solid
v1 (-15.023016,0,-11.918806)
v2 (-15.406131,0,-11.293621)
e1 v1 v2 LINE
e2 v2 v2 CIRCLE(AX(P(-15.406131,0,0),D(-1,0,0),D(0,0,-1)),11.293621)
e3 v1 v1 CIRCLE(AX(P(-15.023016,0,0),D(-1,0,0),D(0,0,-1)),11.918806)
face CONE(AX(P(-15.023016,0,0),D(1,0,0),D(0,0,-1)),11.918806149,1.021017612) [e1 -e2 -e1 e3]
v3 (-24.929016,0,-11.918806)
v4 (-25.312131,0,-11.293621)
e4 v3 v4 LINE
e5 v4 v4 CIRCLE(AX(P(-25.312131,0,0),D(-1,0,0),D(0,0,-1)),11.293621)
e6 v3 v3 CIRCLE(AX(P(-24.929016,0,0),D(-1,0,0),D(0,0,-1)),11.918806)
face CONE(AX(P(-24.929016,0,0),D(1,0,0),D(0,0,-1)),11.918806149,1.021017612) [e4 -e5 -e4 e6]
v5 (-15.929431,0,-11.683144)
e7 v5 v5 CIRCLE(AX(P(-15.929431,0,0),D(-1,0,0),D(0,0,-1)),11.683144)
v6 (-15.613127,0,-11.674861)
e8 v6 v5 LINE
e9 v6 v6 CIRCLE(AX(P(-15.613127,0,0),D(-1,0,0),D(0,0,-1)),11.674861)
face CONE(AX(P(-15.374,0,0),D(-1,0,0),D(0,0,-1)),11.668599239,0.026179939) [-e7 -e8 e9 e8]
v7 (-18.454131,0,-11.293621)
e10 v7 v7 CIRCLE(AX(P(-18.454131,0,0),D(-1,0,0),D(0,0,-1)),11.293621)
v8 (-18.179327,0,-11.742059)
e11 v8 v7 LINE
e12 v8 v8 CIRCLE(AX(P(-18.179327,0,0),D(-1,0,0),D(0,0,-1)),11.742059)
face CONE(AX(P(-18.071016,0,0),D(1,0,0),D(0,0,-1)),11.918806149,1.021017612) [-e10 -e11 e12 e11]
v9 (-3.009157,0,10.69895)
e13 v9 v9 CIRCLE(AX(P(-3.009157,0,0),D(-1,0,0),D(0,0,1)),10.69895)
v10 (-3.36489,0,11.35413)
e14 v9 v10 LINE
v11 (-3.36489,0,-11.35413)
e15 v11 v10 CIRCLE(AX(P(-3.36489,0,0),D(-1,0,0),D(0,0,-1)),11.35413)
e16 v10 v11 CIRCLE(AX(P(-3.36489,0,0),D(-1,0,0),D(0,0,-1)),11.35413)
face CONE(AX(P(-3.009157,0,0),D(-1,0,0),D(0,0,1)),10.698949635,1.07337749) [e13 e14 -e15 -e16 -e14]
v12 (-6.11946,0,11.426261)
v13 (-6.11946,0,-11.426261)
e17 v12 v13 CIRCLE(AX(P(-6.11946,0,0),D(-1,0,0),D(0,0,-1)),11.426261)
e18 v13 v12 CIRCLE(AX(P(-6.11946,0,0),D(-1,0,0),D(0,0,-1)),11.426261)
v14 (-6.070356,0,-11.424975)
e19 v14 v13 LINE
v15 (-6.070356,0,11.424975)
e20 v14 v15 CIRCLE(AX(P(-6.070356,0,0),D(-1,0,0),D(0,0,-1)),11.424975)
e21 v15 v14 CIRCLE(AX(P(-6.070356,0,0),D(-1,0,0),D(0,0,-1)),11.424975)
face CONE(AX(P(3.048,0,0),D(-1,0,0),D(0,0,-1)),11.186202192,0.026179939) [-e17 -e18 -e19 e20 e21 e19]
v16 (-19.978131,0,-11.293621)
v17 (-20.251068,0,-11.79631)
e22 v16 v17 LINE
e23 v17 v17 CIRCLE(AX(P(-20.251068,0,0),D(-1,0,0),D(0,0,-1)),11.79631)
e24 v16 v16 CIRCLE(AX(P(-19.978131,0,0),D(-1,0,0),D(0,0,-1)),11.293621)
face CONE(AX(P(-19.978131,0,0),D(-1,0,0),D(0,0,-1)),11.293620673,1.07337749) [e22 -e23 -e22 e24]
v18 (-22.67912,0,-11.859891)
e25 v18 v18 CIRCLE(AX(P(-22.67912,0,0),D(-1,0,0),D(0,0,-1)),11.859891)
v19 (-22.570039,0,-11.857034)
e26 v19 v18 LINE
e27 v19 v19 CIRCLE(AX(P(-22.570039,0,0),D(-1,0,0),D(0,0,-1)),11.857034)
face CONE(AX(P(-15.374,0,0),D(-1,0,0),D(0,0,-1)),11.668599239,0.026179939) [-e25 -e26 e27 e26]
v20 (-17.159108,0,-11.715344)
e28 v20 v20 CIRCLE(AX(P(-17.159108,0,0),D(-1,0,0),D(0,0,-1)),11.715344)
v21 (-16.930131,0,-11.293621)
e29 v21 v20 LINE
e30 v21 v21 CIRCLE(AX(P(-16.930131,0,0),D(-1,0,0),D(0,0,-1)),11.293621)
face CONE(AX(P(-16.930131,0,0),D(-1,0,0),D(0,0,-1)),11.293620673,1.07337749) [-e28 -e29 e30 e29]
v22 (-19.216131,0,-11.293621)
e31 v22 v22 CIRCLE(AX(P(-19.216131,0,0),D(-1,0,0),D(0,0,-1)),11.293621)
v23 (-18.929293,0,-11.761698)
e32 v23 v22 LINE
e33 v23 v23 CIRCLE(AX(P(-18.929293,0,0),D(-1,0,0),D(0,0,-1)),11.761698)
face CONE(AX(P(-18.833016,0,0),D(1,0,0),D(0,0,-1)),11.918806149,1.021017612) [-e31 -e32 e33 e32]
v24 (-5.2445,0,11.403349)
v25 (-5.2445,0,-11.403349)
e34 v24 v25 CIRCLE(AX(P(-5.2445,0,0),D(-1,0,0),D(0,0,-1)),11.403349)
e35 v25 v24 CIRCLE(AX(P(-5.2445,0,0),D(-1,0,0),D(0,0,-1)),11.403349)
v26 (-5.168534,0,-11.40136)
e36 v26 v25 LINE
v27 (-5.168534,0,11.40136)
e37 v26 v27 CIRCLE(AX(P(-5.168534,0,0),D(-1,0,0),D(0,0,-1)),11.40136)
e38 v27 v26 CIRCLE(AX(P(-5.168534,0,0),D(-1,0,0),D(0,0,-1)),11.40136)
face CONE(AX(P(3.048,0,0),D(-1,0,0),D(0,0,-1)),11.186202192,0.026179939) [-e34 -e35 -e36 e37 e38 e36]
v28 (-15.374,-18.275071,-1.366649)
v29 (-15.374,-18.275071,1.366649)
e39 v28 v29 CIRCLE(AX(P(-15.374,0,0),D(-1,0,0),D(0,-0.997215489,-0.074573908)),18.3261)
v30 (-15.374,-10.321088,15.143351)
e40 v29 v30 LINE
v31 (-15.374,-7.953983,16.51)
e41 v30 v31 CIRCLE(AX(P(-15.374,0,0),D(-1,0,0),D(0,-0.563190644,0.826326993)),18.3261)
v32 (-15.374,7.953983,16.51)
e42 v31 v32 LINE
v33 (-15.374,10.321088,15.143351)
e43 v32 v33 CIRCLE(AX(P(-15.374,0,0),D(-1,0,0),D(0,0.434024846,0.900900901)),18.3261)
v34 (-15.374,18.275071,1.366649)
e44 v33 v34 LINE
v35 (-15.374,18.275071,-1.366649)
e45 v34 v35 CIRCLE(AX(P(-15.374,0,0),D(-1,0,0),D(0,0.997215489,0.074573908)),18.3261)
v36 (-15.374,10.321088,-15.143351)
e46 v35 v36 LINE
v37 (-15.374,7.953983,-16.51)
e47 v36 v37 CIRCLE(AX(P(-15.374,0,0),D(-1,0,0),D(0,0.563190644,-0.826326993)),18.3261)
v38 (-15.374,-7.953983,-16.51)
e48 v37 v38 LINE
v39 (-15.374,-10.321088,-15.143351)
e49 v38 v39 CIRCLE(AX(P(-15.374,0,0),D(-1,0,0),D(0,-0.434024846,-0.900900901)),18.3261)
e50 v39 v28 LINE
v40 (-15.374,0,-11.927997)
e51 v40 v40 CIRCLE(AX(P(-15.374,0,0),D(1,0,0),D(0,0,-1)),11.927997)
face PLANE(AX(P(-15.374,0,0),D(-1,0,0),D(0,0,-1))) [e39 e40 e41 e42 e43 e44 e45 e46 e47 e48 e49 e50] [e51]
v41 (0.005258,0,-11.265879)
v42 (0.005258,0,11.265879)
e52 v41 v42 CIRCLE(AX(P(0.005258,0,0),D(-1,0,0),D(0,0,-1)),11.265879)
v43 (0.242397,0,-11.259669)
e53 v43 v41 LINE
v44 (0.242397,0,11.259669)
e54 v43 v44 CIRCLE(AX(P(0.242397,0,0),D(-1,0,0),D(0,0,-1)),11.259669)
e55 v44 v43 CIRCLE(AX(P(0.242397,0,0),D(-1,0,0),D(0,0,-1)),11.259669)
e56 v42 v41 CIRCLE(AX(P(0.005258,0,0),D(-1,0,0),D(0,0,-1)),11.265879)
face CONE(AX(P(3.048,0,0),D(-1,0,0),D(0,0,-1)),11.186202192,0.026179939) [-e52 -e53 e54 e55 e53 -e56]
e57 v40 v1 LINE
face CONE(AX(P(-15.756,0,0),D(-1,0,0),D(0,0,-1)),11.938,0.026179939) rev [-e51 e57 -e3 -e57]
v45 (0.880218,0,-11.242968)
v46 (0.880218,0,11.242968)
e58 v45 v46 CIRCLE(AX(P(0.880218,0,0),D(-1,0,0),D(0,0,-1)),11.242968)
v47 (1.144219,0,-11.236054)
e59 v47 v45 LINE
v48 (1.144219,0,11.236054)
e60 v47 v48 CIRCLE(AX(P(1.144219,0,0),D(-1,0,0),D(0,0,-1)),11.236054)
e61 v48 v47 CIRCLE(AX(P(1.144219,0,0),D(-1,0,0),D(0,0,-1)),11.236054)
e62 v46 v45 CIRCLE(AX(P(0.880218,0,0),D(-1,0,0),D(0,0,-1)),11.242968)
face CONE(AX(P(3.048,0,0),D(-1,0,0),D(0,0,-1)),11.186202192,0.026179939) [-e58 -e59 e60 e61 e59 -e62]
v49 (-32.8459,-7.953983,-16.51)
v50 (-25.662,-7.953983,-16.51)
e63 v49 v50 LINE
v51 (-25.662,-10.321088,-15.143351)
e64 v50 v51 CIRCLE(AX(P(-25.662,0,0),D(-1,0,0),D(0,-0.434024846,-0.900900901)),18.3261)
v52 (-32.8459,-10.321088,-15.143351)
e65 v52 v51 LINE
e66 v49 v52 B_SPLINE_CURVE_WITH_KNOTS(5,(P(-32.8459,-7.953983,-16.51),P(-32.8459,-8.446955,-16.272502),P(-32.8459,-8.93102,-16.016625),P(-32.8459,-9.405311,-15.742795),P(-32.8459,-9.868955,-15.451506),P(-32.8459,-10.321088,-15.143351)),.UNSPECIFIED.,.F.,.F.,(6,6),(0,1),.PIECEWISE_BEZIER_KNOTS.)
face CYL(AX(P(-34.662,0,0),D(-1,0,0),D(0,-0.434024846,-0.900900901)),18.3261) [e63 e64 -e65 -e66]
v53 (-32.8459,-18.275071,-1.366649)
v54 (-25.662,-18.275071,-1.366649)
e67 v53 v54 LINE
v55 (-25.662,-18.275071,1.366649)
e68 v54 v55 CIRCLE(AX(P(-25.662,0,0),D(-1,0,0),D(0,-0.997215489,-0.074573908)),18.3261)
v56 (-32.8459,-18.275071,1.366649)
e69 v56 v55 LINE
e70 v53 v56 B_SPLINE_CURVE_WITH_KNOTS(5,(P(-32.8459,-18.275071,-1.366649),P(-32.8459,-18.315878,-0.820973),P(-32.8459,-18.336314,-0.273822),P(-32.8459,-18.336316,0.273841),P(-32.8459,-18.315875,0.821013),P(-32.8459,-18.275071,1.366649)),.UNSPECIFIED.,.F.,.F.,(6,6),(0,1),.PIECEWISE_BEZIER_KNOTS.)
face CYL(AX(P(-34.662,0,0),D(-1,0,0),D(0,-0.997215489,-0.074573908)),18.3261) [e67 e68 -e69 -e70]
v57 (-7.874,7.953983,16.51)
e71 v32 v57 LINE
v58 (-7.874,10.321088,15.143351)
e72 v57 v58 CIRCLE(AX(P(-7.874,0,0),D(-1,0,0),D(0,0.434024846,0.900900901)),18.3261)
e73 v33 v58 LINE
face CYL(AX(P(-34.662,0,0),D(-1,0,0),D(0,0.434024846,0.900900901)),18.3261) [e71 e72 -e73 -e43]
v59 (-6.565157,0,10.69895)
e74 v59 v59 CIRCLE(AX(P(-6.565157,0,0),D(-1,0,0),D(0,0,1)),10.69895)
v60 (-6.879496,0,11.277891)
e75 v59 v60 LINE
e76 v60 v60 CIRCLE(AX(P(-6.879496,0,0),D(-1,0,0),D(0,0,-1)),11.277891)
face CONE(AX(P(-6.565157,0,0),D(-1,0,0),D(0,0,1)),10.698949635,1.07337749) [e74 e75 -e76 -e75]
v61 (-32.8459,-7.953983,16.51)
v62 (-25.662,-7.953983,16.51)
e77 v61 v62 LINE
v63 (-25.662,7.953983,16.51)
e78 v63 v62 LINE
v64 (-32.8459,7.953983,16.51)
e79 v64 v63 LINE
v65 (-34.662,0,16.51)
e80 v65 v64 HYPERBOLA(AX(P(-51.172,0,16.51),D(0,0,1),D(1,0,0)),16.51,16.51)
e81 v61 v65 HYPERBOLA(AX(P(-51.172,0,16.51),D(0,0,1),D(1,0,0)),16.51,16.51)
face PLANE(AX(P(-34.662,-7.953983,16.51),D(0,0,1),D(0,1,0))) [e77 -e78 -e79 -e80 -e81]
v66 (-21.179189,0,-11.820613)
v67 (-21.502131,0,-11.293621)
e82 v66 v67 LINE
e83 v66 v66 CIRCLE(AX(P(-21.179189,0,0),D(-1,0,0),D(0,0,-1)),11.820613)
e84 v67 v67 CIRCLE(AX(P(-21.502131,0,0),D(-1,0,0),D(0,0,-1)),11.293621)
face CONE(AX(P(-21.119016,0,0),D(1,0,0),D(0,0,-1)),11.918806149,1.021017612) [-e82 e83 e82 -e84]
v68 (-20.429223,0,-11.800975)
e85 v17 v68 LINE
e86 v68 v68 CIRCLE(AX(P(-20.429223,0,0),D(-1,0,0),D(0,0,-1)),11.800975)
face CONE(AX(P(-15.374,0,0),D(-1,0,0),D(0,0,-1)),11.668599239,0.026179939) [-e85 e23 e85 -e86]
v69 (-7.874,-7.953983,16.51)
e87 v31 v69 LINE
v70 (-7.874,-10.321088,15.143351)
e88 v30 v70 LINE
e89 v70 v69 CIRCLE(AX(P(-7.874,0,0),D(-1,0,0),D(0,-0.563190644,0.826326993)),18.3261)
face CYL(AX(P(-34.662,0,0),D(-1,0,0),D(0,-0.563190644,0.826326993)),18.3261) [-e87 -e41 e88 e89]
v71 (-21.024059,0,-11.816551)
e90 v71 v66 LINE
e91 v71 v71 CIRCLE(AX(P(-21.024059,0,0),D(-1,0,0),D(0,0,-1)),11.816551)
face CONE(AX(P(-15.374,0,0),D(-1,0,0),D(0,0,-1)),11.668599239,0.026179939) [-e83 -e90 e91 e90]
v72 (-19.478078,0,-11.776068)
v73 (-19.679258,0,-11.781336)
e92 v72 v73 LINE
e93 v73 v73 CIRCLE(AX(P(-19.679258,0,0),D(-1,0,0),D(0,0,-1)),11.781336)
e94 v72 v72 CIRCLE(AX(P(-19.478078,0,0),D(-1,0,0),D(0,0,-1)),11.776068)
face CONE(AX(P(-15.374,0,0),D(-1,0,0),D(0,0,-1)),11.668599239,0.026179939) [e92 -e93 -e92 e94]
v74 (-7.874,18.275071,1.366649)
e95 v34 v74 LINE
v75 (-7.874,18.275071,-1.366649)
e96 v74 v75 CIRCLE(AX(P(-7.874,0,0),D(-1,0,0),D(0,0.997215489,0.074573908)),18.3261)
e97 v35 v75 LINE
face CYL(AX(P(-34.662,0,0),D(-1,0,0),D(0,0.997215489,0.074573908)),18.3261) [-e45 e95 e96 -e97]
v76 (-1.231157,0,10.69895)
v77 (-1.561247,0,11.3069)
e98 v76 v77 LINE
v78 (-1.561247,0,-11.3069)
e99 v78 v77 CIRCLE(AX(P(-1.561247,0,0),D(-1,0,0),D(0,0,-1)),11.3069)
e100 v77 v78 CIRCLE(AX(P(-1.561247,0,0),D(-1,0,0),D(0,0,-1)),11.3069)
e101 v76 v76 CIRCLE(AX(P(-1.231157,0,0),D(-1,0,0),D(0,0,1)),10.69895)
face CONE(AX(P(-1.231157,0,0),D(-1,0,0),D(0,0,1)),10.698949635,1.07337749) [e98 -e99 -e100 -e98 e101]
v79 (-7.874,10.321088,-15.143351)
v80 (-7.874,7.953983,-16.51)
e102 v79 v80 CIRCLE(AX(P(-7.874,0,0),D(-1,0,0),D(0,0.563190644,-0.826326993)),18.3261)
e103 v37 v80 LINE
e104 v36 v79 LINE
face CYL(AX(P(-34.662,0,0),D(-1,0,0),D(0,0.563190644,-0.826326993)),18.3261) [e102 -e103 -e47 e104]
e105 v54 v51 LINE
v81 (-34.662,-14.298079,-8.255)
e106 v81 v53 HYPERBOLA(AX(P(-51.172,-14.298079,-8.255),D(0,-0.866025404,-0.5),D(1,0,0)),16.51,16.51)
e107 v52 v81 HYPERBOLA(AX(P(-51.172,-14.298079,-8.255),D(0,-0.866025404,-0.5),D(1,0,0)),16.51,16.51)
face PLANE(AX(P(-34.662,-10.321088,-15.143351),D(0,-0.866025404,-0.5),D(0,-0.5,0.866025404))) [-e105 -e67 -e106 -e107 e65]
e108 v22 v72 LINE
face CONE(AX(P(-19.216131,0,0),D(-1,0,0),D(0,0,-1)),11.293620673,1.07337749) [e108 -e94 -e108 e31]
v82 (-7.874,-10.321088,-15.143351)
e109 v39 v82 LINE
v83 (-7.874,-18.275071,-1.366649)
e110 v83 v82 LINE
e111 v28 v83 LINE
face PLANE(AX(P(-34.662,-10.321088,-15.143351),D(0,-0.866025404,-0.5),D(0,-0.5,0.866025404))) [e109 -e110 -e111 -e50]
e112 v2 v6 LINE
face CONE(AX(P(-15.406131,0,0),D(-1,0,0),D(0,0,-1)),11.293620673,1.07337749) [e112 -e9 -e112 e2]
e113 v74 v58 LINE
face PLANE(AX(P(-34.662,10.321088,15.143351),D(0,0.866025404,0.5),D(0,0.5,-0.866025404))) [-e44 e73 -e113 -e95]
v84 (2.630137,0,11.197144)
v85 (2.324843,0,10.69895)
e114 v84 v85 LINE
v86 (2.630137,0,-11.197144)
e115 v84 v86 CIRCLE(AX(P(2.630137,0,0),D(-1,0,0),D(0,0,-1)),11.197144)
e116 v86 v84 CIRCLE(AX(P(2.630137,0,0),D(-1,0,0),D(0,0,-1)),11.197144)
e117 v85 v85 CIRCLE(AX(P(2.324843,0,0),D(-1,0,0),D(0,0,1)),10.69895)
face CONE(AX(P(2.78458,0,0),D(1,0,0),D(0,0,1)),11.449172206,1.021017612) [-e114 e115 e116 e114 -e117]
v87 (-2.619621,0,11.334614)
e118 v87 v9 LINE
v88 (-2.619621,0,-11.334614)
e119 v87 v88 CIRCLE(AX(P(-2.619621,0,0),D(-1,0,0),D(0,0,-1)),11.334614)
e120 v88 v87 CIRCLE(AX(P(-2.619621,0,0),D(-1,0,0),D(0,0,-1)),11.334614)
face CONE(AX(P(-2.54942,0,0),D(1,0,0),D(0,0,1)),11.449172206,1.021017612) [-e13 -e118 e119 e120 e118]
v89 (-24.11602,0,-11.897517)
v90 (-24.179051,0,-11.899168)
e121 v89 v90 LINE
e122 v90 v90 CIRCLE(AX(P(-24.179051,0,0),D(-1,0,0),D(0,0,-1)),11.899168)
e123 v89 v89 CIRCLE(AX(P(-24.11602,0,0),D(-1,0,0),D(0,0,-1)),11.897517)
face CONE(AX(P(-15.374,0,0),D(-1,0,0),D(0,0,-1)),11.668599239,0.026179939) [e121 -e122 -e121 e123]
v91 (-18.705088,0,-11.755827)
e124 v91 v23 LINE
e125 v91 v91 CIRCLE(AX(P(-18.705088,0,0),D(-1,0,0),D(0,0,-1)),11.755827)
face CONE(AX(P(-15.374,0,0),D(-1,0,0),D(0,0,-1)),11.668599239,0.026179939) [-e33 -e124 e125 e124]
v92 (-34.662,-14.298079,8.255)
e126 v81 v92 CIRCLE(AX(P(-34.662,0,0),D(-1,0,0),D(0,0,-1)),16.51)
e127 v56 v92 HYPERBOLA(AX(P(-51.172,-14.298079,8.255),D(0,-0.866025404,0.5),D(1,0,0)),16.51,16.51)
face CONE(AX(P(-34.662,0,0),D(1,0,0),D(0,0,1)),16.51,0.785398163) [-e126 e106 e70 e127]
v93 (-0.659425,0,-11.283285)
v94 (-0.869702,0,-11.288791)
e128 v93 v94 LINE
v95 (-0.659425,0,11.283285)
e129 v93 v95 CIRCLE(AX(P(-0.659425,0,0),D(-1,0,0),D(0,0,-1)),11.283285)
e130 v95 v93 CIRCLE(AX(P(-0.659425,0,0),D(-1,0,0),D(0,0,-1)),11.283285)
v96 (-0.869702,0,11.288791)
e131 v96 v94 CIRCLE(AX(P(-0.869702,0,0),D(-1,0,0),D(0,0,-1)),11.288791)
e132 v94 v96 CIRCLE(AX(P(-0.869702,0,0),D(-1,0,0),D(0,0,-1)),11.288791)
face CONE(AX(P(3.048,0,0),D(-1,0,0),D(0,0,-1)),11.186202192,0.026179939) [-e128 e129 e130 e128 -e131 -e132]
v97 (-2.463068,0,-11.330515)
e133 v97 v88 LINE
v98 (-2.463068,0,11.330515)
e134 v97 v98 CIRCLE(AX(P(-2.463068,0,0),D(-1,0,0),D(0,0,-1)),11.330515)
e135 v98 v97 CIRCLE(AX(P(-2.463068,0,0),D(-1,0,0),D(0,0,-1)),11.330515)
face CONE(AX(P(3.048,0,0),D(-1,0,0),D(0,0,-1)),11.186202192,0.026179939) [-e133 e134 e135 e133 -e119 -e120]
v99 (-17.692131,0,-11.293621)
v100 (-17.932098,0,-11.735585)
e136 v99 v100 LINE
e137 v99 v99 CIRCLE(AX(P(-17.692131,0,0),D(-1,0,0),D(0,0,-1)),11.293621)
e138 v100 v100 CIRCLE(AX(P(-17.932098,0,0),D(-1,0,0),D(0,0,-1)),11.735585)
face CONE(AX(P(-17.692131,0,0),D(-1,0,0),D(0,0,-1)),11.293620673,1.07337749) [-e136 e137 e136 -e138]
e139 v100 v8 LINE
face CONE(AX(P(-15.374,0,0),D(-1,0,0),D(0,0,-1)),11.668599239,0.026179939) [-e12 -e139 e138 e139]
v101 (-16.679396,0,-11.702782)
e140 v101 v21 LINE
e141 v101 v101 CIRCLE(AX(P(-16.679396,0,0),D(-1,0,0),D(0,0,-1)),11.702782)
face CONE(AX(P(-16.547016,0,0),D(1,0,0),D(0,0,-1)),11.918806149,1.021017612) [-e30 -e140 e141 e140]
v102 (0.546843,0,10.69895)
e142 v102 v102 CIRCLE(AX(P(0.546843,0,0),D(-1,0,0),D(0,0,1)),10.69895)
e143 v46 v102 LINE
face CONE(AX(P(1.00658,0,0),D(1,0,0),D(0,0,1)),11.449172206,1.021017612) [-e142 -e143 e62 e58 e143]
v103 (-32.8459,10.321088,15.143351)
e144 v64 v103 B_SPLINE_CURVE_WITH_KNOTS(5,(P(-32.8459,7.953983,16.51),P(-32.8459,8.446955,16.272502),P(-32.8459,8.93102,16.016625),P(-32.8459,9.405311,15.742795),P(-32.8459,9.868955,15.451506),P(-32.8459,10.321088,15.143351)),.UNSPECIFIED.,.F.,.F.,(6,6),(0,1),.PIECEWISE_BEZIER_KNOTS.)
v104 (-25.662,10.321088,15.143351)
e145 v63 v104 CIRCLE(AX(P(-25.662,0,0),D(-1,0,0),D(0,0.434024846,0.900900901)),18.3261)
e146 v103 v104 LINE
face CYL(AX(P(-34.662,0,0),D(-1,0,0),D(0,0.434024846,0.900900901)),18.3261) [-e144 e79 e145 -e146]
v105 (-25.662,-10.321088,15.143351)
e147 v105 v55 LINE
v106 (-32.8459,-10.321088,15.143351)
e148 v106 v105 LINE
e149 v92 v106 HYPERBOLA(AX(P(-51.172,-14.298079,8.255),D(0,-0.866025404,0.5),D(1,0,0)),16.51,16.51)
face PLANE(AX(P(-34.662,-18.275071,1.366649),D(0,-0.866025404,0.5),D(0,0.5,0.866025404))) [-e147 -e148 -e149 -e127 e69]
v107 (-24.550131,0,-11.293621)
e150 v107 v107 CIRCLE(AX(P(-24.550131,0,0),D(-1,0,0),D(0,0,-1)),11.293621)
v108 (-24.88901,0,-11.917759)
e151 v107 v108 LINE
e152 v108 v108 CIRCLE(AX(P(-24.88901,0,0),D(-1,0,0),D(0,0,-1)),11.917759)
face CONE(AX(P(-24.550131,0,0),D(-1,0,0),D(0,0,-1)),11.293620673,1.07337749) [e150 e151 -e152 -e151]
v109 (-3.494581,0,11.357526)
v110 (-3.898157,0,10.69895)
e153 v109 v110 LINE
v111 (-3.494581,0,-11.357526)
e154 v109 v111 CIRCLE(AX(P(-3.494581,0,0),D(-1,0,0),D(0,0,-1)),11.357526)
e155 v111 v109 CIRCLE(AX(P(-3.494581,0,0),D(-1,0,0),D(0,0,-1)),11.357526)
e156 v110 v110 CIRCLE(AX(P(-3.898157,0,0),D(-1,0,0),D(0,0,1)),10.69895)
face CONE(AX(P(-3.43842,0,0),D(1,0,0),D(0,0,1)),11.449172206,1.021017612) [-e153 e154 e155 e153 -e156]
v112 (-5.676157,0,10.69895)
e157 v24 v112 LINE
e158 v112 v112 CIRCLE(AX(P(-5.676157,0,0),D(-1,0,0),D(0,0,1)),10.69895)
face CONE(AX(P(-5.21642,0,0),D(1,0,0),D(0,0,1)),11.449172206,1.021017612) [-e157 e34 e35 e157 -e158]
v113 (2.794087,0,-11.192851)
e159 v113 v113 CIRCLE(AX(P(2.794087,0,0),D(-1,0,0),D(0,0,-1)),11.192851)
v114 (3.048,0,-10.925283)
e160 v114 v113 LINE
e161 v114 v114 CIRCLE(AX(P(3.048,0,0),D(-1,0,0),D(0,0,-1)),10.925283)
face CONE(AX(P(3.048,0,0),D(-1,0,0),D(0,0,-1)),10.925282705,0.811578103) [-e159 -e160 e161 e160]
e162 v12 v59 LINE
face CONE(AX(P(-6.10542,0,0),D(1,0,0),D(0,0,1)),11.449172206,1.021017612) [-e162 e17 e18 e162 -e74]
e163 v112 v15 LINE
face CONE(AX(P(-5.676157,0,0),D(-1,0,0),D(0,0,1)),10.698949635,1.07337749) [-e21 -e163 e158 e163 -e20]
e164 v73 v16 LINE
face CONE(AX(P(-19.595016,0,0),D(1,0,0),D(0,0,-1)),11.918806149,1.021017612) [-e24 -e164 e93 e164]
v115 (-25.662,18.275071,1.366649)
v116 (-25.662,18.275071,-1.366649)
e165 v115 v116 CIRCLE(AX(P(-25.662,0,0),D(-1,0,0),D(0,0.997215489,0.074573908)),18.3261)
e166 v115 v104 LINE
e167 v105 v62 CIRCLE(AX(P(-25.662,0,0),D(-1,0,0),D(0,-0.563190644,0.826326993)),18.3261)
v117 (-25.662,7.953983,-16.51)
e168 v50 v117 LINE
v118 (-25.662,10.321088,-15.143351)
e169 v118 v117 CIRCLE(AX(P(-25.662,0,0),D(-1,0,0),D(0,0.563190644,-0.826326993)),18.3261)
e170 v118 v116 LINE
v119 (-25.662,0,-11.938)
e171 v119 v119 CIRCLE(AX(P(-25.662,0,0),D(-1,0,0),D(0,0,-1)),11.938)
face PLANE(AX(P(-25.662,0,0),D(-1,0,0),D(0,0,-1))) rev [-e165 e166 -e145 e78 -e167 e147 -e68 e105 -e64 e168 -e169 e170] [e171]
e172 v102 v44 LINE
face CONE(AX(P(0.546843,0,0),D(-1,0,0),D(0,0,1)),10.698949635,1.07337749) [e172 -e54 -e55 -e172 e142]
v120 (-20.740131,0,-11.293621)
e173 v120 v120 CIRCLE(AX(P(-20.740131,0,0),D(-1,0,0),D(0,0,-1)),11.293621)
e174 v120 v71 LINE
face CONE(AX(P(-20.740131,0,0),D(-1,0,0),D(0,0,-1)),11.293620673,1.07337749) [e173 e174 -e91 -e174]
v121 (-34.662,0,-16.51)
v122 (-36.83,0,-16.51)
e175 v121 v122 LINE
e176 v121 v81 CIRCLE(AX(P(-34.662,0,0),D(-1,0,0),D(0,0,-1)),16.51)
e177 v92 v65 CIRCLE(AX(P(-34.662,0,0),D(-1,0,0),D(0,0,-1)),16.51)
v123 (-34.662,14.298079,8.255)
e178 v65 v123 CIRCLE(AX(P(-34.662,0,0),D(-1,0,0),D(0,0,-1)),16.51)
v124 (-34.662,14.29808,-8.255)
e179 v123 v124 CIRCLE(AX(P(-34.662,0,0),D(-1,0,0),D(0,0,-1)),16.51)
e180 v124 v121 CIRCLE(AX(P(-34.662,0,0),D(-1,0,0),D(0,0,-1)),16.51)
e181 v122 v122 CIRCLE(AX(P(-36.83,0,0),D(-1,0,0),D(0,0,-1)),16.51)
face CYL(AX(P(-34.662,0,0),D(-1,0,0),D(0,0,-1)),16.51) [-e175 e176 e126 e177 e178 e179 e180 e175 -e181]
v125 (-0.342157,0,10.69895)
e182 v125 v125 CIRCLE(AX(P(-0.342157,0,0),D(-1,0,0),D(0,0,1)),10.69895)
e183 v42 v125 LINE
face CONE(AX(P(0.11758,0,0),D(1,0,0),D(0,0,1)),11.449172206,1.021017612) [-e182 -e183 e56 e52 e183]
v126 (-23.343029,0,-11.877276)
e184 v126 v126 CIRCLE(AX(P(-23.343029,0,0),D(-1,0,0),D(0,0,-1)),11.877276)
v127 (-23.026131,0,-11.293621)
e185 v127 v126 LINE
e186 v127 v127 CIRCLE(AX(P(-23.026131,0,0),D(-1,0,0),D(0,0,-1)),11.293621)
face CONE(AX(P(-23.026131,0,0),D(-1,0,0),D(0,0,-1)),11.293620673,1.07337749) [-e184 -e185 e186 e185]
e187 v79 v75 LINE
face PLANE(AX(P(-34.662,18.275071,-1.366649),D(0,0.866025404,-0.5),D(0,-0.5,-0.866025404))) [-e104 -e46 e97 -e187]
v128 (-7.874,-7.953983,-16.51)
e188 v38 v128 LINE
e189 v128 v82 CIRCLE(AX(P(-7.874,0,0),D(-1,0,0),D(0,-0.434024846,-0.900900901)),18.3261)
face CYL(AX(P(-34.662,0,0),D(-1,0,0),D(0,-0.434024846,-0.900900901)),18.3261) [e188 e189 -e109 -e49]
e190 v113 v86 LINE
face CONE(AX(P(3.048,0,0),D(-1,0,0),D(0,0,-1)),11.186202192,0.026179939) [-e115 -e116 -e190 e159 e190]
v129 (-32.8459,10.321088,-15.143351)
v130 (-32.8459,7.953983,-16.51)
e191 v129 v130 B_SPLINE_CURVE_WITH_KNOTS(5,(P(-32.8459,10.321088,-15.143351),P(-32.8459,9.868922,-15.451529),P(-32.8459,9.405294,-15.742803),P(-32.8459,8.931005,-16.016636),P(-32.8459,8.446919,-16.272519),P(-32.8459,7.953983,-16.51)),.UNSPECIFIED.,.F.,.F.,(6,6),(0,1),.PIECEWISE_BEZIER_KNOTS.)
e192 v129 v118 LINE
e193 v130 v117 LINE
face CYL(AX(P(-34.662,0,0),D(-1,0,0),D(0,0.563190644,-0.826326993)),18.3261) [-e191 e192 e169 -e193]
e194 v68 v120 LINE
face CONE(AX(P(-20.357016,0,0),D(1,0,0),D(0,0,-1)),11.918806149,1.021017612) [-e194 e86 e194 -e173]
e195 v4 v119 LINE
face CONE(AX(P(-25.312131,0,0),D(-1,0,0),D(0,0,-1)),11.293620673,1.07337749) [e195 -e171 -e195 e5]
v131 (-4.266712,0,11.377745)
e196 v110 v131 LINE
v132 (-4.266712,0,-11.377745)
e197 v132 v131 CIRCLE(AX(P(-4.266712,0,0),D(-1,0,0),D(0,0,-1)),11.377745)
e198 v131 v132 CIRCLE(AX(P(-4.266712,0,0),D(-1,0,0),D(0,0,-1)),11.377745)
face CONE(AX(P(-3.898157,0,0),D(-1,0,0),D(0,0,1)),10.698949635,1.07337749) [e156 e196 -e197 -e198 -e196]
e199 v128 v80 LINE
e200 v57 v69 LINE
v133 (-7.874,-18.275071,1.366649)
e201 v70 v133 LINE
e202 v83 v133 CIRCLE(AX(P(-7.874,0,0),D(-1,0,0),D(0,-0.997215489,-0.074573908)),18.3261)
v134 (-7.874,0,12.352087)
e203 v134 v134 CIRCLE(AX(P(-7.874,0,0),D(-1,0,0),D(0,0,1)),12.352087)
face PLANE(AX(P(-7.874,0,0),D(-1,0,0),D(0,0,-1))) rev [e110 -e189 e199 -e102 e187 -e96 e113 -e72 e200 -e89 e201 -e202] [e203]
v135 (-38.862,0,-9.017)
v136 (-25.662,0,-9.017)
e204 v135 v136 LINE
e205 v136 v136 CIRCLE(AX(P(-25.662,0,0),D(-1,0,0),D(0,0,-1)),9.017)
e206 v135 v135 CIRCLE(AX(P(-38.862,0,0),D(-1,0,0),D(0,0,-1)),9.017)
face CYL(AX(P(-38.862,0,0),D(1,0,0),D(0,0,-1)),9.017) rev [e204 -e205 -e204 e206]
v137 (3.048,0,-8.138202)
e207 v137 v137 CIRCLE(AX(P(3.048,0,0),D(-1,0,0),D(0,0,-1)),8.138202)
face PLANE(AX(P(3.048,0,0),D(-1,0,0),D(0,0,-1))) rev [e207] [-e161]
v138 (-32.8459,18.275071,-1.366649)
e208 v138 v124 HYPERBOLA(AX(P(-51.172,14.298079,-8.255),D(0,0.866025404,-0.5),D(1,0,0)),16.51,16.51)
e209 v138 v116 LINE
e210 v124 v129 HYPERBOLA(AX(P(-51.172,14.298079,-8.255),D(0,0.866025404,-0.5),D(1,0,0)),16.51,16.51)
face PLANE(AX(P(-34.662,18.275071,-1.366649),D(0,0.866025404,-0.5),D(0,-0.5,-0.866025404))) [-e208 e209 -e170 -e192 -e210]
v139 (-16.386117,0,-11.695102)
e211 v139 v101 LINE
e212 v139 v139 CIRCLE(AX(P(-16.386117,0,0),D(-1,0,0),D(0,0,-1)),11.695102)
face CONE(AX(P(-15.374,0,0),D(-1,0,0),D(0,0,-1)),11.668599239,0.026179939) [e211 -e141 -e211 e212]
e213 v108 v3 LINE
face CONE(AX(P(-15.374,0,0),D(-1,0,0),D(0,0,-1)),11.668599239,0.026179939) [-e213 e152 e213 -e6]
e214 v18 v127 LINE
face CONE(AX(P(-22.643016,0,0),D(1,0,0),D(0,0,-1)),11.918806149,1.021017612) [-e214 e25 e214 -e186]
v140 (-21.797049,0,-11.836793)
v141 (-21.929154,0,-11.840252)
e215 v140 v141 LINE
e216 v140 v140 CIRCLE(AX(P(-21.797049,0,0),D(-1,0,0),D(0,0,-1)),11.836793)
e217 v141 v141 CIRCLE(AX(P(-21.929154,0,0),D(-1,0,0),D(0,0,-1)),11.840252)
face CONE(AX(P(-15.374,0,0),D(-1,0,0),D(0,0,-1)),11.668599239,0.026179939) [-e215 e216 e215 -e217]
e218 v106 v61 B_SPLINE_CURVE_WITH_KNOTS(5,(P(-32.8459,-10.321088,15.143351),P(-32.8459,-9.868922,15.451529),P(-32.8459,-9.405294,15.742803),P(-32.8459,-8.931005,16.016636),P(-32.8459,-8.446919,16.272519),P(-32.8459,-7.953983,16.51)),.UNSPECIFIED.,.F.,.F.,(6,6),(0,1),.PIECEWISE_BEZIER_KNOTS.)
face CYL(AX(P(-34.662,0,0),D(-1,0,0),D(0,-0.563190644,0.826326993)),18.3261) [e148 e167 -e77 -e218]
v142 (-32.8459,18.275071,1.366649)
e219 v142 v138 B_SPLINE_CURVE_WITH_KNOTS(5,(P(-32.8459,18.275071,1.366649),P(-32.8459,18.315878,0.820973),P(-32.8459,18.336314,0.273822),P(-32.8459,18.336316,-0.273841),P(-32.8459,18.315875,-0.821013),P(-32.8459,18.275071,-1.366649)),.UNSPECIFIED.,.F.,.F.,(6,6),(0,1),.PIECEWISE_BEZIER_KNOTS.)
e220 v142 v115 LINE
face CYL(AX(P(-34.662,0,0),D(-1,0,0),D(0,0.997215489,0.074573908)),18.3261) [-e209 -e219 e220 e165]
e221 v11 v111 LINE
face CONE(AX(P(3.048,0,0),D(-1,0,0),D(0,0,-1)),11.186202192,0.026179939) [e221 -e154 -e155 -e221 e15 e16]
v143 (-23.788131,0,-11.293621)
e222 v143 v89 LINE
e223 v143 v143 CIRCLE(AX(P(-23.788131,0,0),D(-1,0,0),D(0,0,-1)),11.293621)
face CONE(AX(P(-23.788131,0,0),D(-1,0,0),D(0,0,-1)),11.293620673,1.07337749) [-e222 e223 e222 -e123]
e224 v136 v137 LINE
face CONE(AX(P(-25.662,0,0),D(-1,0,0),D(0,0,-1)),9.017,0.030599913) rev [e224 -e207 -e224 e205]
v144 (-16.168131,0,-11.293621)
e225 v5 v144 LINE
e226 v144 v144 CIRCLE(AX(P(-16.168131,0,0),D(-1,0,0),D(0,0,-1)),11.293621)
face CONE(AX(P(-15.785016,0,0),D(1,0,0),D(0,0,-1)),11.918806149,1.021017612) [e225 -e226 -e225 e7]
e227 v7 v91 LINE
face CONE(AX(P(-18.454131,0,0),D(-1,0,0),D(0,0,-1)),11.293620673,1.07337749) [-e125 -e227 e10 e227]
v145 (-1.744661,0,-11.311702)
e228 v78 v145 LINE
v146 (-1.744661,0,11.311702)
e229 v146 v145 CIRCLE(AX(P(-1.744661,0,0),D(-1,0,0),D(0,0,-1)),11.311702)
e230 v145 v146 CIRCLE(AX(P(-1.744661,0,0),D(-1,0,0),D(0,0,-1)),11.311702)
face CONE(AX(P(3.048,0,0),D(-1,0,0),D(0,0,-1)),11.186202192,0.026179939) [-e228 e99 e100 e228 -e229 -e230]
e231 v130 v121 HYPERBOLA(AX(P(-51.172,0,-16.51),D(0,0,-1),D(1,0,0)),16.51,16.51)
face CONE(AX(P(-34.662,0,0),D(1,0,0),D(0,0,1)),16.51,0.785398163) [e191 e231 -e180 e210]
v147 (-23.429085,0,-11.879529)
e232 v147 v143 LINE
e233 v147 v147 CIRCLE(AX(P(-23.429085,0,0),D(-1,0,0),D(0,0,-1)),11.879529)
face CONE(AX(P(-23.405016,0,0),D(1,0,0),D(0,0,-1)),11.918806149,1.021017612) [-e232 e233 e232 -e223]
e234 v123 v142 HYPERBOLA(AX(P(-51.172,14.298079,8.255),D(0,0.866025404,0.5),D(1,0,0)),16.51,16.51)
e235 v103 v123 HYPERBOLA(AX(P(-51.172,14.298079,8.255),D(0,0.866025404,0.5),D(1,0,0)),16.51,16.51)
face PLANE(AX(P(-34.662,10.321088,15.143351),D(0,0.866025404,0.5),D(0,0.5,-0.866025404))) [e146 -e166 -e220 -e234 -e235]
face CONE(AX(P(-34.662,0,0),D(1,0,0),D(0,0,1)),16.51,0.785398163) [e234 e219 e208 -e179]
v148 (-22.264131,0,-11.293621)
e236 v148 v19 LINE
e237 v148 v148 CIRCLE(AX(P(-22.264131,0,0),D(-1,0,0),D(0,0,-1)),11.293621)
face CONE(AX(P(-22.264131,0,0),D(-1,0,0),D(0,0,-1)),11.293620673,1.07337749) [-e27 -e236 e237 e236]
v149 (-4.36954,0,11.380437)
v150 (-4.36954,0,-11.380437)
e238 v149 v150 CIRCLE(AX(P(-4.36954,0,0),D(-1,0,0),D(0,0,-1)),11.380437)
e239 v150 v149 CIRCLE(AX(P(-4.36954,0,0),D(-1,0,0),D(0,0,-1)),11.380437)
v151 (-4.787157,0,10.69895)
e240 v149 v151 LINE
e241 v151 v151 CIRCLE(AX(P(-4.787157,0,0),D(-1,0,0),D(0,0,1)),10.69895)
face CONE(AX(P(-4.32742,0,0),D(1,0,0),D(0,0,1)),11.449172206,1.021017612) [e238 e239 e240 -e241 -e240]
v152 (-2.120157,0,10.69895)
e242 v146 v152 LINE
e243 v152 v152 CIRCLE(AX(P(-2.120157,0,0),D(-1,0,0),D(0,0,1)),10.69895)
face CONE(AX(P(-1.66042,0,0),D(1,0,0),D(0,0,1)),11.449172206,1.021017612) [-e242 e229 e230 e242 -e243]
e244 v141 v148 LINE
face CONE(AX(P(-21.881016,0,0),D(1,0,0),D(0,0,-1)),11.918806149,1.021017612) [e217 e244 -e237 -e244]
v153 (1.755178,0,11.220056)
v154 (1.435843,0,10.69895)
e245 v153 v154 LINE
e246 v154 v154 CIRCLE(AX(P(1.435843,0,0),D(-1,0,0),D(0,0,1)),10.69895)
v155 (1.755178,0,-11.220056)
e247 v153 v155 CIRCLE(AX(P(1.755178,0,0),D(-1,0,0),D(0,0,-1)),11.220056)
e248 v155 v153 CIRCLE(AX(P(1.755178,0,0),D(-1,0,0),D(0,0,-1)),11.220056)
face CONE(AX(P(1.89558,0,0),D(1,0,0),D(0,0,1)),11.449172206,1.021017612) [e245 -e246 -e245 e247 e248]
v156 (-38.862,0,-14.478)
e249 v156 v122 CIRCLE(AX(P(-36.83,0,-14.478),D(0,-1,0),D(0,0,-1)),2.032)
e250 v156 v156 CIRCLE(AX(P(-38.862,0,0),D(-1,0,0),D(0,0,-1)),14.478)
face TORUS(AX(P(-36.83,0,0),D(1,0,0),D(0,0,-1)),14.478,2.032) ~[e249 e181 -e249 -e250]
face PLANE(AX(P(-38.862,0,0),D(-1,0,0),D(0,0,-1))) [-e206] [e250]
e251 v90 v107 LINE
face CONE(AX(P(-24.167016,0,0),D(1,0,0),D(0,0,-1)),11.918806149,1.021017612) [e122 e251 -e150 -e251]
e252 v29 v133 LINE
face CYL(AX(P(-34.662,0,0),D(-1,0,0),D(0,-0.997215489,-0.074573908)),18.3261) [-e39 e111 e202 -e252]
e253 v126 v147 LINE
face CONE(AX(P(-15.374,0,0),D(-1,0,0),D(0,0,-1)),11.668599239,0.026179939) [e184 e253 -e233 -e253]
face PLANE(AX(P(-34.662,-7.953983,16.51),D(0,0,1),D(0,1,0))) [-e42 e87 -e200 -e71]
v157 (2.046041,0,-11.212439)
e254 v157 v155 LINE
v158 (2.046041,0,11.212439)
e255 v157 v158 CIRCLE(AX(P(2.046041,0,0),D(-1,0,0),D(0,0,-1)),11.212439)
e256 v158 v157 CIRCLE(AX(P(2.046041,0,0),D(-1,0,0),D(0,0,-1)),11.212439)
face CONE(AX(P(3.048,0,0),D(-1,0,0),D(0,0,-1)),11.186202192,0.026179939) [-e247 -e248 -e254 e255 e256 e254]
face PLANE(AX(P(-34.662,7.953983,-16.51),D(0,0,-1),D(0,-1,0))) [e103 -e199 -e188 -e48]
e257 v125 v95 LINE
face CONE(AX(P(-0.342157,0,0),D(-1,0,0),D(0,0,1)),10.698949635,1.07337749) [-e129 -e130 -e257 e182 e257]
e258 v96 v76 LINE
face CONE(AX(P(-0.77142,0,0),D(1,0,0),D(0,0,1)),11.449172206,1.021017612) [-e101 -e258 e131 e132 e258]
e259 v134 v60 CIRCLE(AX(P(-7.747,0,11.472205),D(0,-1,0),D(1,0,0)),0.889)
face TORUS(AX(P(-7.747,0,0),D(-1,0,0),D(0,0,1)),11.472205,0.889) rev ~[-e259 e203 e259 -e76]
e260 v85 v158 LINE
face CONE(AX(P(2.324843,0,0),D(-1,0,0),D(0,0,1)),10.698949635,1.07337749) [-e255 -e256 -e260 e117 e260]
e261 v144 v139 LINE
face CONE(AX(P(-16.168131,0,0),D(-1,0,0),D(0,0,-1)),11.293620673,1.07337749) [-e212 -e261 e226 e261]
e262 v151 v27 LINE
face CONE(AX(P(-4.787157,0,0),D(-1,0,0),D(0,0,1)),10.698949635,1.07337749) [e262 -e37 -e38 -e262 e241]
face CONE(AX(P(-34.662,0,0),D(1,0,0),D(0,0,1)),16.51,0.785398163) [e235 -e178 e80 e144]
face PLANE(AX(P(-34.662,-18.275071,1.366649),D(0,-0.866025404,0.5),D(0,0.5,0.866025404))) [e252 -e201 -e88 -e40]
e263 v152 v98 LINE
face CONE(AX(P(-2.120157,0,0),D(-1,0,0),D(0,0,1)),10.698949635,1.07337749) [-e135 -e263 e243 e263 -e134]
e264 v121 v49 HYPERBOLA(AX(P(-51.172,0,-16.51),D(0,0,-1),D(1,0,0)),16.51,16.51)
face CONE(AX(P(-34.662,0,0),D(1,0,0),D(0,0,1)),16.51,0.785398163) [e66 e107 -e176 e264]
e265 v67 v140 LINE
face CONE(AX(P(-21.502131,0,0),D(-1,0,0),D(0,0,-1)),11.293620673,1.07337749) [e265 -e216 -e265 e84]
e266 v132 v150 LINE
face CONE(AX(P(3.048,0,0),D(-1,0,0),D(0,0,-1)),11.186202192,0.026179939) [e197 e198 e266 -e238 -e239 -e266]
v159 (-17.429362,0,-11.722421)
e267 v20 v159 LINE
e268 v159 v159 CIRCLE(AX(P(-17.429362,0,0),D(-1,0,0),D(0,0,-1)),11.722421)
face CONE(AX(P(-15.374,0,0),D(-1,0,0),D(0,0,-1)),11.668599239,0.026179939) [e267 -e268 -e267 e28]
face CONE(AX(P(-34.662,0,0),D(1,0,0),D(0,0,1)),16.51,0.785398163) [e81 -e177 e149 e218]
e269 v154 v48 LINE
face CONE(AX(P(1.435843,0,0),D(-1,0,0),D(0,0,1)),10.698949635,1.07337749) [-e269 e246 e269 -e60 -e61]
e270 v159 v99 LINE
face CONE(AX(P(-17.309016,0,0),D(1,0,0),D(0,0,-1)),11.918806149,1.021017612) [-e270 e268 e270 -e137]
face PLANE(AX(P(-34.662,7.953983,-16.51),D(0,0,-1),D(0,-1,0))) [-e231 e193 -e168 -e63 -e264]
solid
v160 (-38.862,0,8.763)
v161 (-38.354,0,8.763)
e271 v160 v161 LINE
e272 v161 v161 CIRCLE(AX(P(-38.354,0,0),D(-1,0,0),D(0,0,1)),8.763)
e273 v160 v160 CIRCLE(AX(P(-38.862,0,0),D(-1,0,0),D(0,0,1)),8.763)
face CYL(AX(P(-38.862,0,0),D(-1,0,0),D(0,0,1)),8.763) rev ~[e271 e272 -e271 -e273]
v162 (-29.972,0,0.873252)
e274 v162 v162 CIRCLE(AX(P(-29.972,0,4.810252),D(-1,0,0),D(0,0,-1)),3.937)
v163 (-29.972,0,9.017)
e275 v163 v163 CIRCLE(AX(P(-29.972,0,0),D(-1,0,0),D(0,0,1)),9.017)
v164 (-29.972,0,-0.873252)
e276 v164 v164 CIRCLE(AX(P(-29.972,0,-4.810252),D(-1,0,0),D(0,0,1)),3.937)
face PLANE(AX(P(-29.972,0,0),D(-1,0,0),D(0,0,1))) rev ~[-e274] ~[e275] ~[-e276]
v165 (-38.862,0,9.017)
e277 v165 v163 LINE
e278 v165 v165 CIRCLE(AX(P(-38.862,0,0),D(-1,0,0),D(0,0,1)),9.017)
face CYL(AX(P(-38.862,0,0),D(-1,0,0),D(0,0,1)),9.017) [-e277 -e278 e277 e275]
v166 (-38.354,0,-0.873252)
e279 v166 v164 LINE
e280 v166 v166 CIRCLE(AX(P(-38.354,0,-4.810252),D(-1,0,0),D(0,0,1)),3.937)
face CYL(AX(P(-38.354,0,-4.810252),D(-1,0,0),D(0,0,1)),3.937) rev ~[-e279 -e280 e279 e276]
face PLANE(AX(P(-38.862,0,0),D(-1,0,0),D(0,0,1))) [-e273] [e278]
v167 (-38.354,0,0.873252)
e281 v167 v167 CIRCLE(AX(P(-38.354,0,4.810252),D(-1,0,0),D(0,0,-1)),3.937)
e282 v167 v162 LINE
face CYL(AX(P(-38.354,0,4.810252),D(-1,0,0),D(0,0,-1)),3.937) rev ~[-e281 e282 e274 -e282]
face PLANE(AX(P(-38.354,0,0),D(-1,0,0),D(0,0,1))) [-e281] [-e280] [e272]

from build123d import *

# Parameters (mm, degrees)
SKETCH12_OUTSIDE_W = 88.514
SKETCH12_OUTSIDE_H = 88.514
CUT_EXTRUDE2_DEPTH = 38.71
FILLET4_R          = 2.032
SKETCH19_OUTSIDE_W = 55.962
SKETCH19_OUTSIDE_H = 59.594
SKETCH19_OUTSIDE_R = 16.51
CUT_EXTRUDE3_DEPTH = 3.99796
CUT_EXTRUDE3_DRAFT = -45
CHAMFER1_SIZE      = 0.260919487
CHAMFER1_SIZE2     = 0.254
SKETCH21_R         = 9.017
PLUG_DEPTH         = 8.89
SKETCH22_R         = 8.763
CUT_EXTRUDE4_DEPTH = 0.508
SKETCH27_R         = 3.937
PLUGHOLES_DEPTH    = 42.402
CIRPATTERN1_COUNT  = 2
LPATTERN1_COUNT    = 14
LPATTERN1_PITCH    = 0.762
LPATTERN2_COUNT    = 12
LPATTERN2_PITCH    = 0.889
SKETCH32_R         = 0.889


with BuildPart() as part:
    # Sketch10 → Revolve2 (revolve)
    with BuildSketch(Plane.XY, mode=Mode.PRIVATE) as revolve2_sk:
        Polygon((-38.862, 9.017), (-25.662, 9.017), (3.048, 8.138202192), (3.048, 11.186202192), (-7.874, 11.472204827), (-7.874, 33.02), (-15.374, 33.02), (-15.374, 11.668599239), (-25.662, 11.938), (-25.662, 33.02), (-34.662, 33.02), (-34.662, 16.51), (-38.862, 16.51), align=None)
    revolve(revolve2_sk.sketch.rotate(Axis((0, 0, 0), (-1, 0, 0)), 90), axis=Axis((0, 0, 0), (-1, 0, 0)))  # turned: the seam where the file's is

    # Sketch12 outside → Cut-Extrude2 (cut, through all)
    with BuildSketch(Plane.ZY.offset(34.662)):
        Rectangle(SKETCH12_OUTSIDE_W, SKETCH12_OUTSIDE_H)
        with BuildLine():
            Line((-1.366648898, 18.27507078), (-15.143351102, 10.321088053))
            ThreePointArc((-15.143351102, 10.321088053), (-15.870868152, 9.16305), (-16.51, 7.953982726))
            Line((-16.51, 7.953982726), (-16.51, -7.953982726))
            ThreePointArc((-16.51, -7.953982726), (-15.870868152, -9.16305), (-15.143351102, -10.321088053))
            Line((-15.143351102, -10.321088053), (-1.366648898, -18.27507078))
            ThreePointArc((-1.366648898, -18.27507078), (0, -18.3261), (1.366648898, -18.27507078))
            Line((1.366648898, -18.27507078), (15.143351102, -10.321088053))
            ThreePointArc((15.143351102, -10.321088053), (15.870868152, -9.16305), (16.51, -7.953982726))
            Line((16.51, -7.953982726), (16.51, 7.953982726))
            ThreePointArc((16.51, 7.953982726), (15.870868152, 9.16305), (15.143351102, 10.321088053))
            Line((15.143351102, 10.321088053), (1.366648898, 18.27507078))
            ThreePointArc((1.366648898, 18.27507078), (0, 18.3261), (-1.366648898, 18.27507078))
        make_face(mode=Mode.SUBTRACT)
    extrude(amount=-CUT_EXTRUDE2_DEPTH, mode=Mode.SUBTRACT)

    # Fillet4
    fillet4_edges = [part.edges().sort_by_distance(p)[0] for p in [
        (-38.862, 0, 16.51),
    ]]
    fillet(fillet4_edges, radius=FILLET4_R)


with BuildPart() as cut_extrude3_tool:
    # Sketch19 outside → Cut-Extrude3 (with draft: the straight prism first)
    with BuildSketch(Plane.ZY.offset(34.662)):
        Rectangle(SKETCH19_OUTSIDE_W, SKETCH19_OUTSIDE_H)
        Circle(SKETCH19_OUTSIDE_R, mode=Mode.SUBTRACT)
    extrude(amount=-CUT_EXTRUDE3_DEPTH)
    # Cut-Extrude3: the draft: its side faces are tilted about the plane it starts from
    cut_extrude3_sides = [cut_extrude3_tool.faces().sort_by_distance(p)[0] for p in [
        (-32.66302, -29.797, 0),
        (-32.66302, 0, 27.981),
        (-32.66302, 29.797, 0),
        (-32.66302, 0, -27.981),
        (-32.66302, 0, -16.51),
    ]]
    draft(cut_extrude3_sides, Plane.ZY.offset(34.662), CUT_EXTRUDE3_DRAFT)


with BuildPart() as part_1:
    add(part.part)

    # Cut-Extrude3: cut by cut_extrude3_tool
    add(cut_extrude3_tool.part, mode=Mode.SUBTRACT)

    # Chamfer1
    chamfer1_edges = [part_1.edges().sort_by_distance(p)[0] for p in [
        (3.048, 0, 11.186202192),
    ]]
    chamfer1_side = [part_1.faces().sort_by_distance(p)[0] for p in [
        (3.048, 0, 8.454595769),
    ]]
    chamfer(chamfer1_edges, length=CHAMFER1_SIZE, length2=CHAMFER1_SIZE2, reference=chamfer1_side[0])

    # Sketch29 → Cut-Revolve1 (revolve, cut)
    with BuildSketch(Plane.XY, mode=Mode.PRIVATE) as cut_revolve1_sk:
        Polygon((-25.662, 11.938), (-24.929016419, 11.918806149), (-25.312130572, 11.293620673), align=None)
    cut_revolve1 = revolve(cut_revolve1_sk.sketch.rotate(Axis((0, 0, 0), (-1, 0, 0)), 90), axis=Axis((0, 0, 0), (-1, 0, 0)), mode=Mode.SUBTRACT)  # turned: the seam where the file's is

    # LPattern1: Cut-Revolve1 ×14
    with Locations(*[(i * LPATTERN1_PITCH, 0, 0) for i in range(1, LPATTERN1_COUNT)]):
        add(cut_revolve1, mode=Mode.SUBTRACT)

    # Sketch30 → Cut-Revolve2 (revolve, cut)
    with BuildSketch(Plane.XY, mode=Mode.PRIVATE) as cut_revolve2_sk:
        Polygon((-7.874, 11.472204827), (-6.994419703, 11.449172206), (-7.454156686, 10.698949635), align=None)
    cut_revolve2 = revolve(cut_revolve2_sk.sketch.rotate(Axis((0, 0, 0), (-1, 0, 0)), 270), axis=Axis((0, 0, 0), (-1, 0, 0)), mode=Mode.SUBTRACT)  # turned: the seam where the file's is

    # LPattern2: Cut-Revolve2 ×12
    with Locations(*[(i * LPATTERN2_PITCH, 0, 0) for i in range(1, LPATTERN2_COUNT)]):
        add(cut_revolve2, mode=Mode.SUBTRACT)

    # Sketch32 → Cut-Revolve3 (revolve, cut)
    with BuildSketch(Plane.XY, mode=Mode.PRIVATE) as cut_revolve3_sk:
        with Locations((-7.747, 11.472204827)):
            Circle(SKETCH32_R)
    revolve(cut_revolve3_sk.sketch.rotate(Axis((0, 0, 0), (-1, 0, 0)), 270), axis=Axis((0, 0, 0), (-1, 0, 0)), mode=Mode.SUBTRACT)  # turned: the seam where the file's is


with BuildPart() as body_2:
    # Sketch21 → plug (new body)
    with BuildSketch(Plane.ZY.offset(38.862)):
        Circle(SKETCH21_R)
    extrude(amount=-PLUG_DEPTH)

    # Sketch22 → Cut-Extrude4 (cut)
    with BuildSketch(Plane.ZY.offset(38.862)):
        Circle(SKETCH22_R)
    extrude(amount=-CUT_EXTRUDE4_DEPTH, mode=Mode.SUBTRACT)

    # Sketch27 → plugholes (cut, through all)
    with BuildSketch(Plane.ZY.offset(38.354)):
        with Locations((-4.810252, 0)):
            Circle(SKETCH27_R)
    plugholes = extrude(amount=-PLUGHOLES_DEPTH, mode=Mode.SUBTRACT)

    # CirPattern1: plugholes ×2 about axis
    cirpattern1_axis = Axis((0, 0, 0), (1, 0, 0))
    for i in range(1, CIRPATTERN1_COUNT):
        add(plugholes.rotate(cirpattern1_axis, i * 360 / CIRPATTERN1_COUNT), mode=Mode.SUBTRACT)


solid = Compound([part_1.part, body_2.part])
